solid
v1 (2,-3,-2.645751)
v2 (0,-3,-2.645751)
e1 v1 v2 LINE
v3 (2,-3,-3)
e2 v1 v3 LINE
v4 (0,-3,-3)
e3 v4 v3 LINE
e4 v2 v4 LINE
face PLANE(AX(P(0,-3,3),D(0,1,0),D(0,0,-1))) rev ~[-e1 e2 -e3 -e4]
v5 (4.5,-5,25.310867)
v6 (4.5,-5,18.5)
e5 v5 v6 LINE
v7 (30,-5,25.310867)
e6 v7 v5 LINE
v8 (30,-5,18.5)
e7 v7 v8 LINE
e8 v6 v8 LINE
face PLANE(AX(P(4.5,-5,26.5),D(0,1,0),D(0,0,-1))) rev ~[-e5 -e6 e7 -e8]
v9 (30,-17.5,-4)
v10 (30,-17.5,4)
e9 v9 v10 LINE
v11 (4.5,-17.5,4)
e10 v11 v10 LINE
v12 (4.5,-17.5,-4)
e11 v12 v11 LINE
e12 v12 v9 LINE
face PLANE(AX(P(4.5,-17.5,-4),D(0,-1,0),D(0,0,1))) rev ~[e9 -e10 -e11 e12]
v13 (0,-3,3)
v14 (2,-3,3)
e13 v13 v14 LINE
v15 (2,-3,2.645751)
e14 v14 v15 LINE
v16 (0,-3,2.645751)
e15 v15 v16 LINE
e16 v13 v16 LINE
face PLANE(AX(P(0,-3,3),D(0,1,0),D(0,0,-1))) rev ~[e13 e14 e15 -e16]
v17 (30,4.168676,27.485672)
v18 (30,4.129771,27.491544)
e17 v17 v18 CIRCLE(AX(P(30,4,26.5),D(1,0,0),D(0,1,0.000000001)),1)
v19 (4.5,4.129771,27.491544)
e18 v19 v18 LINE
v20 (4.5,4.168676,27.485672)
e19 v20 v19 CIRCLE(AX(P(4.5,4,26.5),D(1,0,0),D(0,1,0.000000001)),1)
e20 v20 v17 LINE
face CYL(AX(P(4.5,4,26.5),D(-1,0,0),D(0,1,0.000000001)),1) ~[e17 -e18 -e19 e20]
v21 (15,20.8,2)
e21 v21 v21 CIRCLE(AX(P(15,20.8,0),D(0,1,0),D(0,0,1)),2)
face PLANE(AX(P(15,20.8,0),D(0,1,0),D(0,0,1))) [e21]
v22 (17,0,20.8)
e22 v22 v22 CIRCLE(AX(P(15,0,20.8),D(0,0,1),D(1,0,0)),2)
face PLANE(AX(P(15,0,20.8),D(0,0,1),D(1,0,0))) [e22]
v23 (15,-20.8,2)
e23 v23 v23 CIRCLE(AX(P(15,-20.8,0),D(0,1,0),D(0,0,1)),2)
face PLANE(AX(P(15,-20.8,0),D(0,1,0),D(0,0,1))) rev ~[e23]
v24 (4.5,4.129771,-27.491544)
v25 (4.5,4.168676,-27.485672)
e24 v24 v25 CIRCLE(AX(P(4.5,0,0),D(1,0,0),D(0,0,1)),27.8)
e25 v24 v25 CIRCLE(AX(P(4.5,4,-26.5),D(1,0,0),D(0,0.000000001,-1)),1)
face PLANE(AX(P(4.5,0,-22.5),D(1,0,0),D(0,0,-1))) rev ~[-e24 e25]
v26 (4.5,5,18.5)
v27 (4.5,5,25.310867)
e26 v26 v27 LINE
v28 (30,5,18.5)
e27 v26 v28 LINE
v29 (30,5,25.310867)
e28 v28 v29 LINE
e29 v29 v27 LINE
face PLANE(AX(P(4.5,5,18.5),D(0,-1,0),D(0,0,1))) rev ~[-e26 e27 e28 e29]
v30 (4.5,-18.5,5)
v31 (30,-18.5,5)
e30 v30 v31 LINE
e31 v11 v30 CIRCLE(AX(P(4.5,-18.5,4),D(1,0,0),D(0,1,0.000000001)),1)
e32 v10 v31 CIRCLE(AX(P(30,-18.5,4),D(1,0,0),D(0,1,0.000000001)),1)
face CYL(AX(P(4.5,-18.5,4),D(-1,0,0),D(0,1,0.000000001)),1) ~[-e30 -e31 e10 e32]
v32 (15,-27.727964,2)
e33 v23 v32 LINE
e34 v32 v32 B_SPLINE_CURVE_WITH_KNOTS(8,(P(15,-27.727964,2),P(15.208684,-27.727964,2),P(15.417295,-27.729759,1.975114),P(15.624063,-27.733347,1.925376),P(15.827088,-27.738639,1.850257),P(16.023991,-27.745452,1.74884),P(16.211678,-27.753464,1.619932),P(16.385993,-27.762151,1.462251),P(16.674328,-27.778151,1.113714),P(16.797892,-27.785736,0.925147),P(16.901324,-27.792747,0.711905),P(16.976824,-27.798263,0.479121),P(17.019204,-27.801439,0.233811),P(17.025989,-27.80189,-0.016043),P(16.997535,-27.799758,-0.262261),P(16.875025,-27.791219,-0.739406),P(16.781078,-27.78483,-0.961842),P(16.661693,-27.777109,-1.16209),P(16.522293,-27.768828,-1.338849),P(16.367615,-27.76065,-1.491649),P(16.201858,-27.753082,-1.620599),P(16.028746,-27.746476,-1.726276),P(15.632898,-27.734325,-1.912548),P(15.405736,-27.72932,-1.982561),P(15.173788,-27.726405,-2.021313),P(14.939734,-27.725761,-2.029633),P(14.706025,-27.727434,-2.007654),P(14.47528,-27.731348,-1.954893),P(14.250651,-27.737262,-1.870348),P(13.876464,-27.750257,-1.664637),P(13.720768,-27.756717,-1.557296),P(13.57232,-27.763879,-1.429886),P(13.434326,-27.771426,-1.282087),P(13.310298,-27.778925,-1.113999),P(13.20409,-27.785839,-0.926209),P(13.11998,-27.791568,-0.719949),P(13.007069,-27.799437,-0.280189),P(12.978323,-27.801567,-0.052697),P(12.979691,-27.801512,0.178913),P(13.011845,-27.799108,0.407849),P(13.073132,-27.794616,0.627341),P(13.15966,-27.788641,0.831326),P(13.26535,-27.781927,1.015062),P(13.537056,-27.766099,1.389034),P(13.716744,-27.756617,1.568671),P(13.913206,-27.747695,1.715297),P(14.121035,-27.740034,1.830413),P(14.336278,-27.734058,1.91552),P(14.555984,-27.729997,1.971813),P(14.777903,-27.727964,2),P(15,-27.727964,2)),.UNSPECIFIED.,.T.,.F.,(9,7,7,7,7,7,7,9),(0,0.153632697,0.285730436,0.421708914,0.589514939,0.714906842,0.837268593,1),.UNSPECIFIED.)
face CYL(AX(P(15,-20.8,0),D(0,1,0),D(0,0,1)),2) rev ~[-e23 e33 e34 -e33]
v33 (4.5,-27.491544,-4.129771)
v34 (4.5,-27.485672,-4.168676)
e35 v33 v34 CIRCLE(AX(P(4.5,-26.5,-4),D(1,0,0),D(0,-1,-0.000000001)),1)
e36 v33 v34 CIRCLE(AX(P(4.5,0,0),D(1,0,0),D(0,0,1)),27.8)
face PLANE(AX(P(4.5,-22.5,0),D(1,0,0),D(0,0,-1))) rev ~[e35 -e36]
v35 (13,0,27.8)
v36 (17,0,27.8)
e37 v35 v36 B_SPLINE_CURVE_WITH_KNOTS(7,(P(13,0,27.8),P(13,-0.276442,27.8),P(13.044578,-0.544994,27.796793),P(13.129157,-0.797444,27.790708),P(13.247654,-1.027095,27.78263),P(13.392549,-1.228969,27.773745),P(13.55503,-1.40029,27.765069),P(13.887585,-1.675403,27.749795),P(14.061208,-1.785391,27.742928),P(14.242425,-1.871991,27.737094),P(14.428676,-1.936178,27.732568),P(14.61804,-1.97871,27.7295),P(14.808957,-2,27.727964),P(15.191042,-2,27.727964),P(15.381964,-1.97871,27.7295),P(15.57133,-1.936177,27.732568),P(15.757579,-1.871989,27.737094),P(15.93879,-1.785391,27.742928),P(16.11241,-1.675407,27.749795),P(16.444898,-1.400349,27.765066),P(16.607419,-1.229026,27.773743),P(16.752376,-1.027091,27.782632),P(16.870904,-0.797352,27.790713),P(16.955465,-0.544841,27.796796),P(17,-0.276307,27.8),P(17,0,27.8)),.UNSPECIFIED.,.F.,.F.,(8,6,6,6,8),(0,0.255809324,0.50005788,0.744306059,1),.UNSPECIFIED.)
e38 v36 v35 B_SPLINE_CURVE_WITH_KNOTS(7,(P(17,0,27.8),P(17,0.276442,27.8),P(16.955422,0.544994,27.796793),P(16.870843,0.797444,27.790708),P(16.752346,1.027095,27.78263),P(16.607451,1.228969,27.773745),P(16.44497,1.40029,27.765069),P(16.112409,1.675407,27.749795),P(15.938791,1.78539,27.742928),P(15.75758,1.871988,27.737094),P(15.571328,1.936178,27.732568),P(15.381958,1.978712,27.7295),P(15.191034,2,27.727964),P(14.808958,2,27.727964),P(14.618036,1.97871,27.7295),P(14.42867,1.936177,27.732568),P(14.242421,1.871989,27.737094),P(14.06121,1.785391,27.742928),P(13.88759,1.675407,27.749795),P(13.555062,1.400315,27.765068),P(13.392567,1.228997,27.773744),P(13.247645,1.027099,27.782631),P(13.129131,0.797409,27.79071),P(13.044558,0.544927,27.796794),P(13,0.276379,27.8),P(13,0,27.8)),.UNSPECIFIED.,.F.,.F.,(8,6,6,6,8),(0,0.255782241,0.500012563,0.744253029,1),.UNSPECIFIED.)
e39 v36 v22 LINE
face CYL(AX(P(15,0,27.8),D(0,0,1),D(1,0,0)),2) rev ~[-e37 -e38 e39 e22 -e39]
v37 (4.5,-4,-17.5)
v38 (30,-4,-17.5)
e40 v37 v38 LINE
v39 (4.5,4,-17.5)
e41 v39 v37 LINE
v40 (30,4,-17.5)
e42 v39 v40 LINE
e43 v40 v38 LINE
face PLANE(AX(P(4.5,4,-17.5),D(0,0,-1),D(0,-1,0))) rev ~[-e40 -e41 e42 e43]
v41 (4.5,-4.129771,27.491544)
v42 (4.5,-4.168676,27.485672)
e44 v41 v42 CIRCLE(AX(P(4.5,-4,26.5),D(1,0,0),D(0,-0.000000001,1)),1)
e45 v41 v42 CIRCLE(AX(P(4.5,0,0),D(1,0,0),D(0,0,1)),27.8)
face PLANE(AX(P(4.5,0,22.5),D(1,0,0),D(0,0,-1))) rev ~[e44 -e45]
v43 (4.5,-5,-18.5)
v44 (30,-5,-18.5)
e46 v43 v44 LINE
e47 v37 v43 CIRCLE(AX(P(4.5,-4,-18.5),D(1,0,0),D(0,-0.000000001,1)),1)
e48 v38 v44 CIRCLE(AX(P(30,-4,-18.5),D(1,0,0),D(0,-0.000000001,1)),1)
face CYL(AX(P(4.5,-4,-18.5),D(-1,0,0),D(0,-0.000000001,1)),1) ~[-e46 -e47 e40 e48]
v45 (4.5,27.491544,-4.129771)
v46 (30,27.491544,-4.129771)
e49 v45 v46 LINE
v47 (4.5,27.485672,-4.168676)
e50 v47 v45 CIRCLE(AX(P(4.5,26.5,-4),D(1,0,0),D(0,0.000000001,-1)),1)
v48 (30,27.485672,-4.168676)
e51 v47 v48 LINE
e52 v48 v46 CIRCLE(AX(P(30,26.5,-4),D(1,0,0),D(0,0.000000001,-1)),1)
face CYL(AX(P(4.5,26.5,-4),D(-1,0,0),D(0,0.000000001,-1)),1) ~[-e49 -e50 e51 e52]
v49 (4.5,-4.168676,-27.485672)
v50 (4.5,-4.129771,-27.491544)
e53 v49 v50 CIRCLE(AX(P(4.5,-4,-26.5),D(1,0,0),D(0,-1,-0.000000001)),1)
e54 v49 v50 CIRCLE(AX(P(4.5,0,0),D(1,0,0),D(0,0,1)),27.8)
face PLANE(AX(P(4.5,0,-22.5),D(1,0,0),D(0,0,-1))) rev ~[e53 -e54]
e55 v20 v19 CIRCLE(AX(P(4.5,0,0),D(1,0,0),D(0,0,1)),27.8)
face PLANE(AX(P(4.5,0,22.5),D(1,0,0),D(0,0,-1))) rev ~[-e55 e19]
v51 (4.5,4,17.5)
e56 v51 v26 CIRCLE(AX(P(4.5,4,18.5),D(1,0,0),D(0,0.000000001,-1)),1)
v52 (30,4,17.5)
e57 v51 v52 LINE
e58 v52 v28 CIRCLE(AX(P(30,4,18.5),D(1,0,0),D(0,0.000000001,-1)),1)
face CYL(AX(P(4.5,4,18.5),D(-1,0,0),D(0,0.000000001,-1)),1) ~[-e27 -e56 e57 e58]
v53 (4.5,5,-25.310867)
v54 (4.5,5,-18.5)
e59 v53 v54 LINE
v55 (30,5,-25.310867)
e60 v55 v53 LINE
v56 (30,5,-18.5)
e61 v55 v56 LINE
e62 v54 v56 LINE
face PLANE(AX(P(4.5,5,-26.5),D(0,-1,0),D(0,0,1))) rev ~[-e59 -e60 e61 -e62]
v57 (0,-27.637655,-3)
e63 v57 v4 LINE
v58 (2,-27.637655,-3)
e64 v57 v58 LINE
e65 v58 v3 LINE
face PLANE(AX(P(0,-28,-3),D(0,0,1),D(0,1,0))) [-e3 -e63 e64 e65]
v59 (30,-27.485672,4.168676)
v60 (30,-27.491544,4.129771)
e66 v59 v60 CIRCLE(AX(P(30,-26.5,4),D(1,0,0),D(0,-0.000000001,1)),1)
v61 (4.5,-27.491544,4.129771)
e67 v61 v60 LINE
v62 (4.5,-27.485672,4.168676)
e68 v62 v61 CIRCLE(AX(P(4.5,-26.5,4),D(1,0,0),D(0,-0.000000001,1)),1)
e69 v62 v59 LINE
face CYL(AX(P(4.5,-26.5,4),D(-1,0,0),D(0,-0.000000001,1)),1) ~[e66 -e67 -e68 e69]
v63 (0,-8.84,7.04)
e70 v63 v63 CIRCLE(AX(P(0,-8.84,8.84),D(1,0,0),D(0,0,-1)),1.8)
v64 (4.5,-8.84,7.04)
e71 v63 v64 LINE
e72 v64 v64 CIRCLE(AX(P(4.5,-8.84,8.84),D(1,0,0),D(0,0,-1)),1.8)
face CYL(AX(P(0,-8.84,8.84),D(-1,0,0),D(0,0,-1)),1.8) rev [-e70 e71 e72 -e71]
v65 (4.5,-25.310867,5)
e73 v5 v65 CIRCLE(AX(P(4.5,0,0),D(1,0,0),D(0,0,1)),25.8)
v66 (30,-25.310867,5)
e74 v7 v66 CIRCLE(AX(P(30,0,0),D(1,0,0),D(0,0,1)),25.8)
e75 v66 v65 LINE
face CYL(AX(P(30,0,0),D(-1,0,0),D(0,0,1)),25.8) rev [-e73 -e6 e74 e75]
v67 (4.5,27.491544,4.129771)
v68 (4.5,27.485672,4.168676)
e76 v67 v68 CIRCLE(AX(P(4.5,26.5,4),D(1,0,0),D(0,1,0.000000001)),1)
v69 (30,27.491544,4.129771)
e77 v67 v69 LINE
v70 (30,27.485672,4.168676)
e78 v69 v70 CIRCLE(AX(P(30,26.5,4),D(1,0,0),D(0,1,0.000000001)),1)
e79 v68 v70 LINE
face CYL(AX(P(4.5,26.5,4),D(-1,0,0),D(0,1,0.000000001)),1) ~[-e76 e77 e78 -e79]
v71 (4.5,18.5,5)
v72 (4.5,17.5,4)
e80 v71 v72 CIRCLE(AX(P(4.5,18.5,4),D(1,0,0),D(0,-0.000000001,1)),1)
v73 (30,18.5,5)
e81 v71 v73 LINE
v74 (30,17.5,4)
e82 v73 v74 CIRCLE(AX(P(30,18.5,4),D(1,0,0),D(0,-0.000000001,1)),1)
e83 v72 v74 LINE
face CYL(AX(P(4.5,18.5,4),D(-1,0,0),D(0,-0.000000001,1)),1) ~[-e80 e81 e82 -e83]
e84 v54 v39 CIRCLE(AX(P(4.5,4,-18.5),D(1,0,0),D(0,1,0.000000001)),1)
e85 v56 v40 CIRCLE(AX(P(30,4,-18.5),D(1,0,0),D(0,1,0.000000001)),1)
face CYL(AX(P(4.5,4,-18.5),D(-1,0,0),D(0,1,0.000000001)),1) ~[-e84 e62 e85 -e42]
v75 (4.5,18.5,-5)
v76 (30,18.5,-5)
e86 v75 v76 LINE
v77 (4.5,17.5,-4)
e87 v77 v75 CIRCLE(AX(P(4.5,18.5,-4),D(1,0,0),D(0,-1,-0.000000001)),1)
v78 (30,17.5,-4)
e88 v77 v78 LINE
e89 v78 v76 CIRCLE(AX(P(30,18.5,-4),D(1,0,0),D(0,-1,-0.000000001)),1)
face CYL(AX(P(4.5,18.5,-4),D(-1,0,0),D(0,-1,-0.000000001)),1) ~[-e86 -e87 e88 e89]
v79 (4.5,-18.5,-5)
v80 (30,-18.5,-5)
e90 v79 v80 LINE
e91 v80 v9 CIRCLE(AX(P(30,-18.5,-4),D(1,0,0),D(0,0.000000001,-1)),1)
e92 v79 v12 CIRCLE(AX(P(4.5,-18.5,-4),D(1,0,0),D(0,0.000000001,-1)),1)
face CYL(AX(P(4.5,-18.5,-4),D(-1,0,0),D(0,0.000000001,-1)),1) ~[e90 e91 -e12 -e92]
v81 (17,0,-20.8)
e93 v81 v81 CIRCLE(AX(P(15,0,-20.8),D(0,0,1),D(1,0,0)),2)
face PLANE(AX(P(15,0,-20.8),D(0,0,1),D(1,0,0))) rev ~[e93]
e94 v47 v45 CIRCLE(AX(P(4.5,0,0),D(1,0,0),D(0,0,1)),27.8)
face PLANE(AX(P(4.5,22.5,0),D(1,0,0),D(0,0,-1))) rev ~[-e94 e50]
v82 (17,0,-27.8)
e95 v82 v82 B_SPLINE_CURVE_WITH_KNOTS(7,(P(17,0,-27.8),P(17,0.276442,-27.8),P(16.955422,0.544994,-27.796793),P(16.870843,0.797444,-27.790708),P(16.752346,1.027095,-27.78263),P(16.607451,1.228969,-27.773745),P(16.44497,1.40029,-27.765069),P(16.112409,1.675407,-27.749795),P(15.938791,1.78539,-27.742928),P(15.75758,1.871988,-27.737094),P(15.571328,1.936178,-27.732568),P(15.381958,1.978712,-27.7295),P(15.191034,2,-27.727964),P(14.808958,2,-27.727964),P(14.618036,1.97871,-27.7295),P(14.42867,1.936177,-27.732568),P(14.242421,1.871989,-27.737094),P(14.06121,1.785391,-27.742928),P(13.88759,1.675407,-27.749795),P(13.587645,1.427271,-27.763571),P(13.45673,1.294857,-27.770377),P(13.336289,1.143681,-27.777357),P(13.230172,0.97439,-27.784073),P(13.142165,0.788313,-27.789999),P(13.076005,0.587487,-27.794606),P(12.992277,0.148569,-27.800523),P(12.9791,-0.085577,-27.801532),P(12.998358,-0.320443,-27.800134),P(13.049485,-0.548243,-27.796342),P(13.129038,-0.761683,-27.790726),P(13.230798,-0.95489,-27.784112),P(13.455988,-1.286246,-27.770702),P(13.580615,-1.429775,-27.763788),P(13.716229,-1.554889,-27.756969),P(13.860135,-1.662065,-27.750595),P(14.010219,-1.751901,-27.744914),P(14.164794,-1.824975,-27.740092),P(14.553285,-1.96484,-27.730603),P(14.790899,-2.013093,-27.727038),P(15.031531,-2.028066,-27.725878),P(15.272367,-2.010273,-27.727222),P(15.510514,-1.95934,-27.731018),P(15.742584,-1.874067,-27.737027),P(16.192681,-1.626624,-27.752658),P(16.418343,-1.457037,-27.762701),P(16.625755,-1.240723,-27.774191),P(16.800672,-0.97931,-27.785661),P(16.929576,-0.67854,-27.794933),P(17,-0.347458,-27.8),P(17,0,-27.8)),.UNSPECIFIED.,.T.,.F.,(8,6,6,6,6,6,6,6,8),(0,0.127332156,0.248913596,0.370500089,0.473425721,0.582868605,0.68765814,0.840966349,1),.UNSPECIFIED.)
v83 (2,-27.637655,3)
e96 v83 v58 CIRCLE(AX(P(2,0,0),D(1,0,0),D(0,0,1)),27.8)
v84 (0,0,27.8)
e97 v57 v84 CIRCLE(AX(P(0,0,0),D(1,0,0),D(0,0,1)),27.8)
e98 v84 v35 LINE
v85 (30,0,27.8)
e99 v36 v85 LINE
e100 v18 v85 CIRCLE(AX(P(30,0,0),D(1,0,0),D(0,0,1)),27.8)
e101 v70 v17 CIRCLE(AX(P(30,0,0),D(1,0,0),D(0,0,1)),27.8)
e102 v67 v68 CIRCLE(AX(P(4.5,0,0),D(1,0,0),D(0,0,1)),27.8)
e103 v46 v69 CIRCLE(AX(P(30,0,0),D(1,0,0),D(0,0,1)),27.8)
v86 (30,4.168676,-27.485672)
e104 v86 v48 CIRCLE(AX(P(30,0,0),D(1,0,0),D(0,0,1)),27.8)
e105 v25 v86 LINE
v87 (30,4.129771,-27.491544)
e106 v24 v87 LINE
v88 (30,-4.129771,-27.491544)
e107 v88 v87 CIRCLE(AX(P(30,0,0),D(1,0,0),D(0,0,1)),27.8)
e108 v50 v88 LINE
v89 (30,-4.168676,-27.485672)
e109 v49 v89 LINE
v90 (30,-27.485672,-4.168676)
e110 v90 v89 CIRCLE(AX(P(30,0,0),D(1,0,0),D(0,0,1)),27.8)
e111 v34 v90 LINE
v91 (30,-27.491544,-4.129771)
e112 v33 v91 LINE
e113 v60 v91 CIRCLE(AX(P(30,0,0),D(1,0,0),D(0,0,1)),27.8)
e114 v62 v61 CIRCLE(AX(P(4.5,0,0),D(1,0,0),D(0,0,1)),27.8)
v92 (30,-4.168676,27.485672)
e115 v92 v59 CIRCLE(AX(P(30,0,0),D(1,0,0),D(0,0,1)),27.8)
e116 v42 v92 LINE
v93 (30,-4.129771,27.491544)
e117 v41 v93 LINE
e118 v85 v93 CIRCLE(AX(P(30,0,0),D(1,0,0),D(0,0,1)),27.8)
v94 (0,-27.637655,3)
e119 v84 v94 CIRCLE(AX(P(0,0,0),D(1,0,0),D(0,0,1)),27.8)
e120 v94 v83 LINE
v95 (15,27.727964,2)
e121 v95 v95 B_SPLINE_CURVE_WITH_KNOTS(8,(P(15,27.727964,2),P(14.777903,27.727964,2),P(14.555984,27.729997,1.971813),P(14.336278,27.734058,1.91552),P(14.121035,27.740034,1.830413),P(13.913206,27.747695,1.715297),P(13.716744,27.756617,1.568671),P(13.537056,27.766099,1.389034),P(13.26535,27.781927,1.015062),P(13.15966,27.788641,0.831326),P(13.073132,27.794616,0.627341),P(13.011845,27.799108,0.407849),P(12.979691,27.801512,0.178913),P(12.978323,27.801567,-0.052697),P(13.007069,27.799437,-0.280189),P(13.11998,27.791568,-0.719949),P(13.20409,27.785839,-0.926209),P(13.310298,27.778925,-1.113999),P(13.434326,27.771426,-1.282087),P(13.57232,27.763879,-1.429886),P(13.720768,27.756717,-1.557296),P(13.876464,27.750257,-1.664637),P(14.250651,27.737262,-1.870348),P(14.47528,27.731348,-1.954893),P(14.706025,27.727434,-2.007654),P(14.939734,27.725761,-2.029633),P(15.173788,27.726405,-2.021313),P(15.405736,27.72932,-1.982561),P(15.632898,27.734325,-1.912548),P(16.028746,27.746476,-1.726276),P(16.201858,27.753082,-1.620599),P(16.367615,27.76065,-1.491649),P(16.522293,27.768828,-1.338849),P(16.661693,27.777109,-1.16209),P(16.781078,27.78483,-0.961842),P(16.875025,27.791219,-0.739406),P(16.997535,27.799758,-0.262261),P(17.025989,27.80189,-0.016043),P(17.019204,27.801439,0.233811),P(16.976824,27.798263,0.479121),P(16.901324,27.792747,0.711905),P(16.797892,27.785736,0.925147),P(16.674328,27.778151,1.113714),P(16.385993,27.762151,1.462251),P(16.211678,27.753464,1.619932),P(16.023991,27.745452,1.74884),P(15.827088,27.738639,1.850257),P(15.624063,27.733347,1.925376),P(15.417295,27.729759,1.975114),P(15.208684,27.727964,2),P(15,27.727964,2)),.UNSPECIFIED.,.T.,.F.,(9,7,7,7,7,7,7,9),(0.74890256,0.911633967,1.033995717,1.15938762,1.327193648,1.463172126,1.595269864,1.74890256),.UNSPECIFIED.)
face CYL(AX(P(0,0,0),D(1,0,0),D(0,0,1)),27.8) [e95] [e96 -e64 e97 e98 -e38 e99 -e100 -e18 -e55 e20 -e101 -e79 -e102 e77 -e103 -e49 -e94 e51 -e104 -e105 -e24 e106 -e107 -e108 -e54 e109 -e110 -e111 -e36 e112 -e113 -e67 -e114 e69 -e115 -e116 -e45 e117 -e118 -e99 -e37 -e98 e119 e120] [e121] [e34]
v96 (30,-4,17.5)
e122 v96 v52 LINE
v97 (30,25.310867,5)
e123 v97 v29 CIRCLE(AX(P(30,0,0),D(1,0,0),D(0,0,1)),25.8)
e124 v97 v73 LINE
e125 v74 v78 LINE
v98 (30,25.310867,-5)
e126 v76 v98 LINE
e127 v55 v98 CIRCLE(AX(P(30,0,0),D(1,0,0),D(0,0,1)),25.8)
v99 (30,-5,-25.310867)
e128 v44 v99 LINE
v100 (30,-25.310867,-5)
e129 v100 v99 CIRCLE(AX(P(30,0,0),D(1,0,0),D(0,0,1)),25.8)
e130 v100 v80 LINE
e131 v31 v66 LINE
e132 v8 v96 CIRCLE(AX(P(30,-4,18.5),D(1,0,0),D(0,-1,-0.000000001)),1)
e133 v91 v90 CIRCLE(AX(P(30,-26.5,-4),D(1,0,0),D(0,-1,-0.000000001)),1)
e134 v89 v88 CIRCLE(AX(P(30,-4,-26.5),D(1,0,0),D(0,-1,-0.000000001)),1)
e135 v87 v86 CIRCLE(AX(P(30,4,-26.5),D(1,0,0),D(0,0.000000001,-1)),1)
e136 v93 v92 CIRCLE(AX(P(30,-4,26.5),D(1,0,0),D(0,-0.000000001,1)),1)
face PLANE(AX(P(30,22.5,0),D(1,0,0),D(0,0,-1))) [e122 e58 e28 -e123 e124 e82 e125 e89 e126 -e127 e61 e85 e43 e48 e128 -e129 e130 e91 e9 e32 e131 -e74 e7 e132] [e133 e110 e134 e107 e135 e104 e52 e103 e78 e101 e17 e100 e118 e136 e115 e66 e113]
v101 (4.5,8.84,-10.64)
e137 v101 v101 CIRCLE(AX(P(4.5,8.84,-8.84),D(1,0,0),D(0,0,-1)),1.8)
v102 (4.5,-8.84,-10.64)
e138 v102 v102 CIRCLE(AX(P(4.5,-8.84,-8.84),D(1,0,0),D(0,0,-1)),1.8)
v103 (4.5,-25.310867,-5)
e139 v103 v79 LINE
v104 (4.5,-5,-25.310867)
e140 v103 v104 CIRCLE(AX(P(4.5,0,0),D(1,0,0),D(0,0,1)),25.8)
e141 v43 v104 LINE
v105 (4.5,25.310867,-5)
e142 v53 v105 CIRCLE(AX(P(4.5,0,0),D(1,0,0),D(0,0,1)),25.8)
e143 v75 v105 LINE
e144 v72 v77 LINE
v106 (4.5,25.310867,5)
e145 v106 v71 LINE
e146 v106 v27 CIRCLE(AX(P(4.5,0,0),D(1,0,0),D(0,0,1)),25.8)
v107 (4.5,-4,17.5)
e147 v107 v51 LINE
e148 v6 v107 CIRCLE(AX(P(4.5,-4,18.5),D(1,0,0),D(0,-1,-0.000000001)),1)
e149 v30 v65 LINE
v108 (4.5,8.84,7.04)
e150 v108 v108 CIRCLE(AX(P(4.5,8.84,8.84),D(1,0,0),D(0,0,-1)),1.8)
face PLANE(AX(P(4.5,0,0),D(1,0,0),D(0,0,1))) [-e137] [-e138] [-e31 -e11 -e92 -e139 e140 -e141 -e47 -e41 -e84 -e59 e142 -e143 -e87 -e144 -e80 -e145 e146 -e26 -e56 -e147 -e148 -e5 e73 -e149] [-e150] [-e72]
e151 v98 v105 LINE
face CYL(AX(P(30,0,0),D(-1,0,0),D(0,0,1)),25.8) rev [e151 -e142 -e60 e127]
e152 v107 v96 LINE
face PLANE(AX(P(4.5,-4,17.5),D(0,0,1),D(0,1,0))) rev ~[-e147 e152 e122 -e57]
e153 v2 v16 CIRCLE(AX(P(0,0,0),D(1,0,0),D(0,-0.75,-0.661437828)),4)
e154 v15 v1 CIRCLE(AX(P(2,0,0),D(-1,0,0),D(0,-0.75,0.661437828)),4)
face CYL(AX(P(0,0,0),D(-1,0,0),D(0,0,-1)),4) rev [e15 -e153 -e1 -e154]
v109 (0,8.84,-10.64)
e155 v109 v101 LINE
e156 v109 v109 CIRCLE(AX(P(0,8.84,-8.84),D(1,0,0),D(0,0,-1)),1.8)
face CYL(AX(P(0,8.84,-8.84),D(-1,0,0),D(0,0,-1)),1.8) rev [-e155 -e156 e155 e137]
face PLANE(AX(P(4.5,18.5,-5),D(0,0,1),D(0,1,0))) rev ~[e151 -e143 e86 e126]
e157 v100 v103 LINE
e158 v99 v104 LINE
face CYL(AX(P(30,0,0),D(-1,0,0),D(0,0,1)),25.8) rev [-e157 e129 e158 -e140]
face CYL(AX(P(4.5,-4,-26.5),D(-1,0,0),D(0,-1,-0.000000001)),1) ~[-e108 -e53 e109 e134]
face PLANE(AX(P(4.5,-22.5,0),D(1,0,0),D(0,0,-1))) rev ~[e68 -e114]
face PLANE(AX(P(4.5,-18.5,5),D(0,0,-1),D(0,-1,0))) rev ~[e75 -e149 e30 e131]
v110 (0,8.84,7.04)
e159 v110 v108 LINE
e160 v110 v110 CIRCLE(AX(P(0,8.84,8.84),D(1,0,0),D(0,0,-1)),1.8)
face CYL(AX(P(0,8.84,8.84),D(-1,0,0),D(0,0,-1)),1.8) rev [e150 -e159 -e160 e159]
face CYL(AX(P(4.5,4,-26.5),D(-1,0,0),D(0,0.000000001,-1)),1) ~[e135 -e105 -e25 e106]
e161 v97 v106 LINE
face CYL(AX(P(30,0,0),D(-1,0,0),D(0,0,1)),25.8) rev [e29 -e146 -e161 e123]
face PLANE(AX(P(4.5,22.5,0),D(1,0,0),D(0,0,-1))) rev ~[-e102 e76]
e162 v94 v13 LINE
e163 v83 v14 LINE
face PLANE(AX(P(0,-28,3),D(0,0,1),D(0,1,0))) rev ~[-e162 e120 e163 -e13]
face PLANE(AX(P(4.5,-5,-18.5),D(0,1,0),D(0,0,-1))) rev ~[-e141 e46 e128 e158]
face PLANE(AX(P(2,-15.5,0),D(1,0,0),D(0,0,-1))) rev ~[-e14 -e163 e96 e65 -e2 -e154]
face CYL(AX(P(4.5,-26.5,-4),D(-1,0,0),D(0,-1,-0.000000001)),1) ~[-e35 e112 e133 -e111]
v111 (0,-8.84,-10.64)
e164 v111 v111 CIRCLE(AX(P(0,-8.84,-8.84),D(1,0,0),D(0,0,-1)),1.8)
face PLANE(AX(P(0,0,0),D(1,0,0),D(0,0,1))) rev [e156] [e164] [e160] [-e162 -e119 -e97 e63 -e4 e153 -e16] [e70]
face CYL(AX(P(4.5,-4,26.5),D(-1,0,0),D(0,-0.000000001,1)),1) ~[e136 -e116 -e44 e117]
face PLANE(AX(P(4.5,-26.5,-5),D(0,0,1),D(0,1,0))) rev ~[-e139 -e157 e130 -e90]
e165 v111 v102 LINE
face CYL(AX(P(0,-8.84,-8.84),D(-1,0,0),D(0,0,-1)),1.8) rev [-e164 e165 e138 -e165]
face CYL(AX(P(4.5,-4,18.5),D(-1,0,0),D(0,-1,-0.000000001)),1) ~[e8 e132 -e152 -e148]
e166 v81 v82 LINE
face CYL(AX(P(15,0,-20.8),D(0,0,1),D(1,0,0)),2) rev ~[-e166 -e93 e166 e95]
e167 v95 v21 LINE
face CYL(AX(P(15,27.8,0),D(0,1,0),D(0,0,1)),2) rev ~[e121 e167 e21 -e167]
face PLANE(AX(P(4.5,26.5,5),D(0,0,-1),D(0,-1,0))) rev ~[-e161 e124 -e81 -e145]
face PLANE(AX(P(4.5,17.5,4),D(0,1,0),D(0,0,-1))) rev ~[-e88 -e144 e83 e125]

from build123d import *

# Parameters (mm, degrees)
BOSS_EXTRUDE1_DEPTH = 25.5
SKETCH3_R           = 1.8
CUT_EXTRUDE1_DEPTH  = 4.5
SKETCH4_R           = 4
CUT_EXTRUDE2_DEPTH  = 2
SKETCH5_W           = 6
SKETCH5_H           = 25
CUT_EXTRUDE3_DEPTH  = 2
SKETCH6_R           = 2
CUT_EXTRUDE4_DEPTH  = 7
CUT_EXTRUDE5_START  = 7
SKETCH7_R           = 2
CUT_EXTRUDE5_DEPTH  = 7
SKETCH8_R           = 2
CUT_EXTRUDE6_DEPTH  = 7
CUT_EXTRUDE7_START  = 7
SKETCH9_R           = 2
CUT_EXTRUDE7_DEPTH  = 7


with BuildPart() as part:
    # Sketch1 → Revolve1 (revolve)
    with BuildSketch(Plane.XY, mode=Mode.PRIVATE) as revolve1_sk:
        Polygon((0, 0), (0, 27.8), (30, 27.8), (30, 25.8), (4.5, 25.8), (4.5, 0), align=None)
    revolve(revolve1_sk.sketch.rotate(Axis((-10, 0, 0), (1, 0, 0)), 90), axis=Axis((-10, 0, 0), (1, 0, 0)))

    # Sketch2 → Boss-Extrude1 (add)
    with BuildSketch(Plane(origin=(4.5, 0, 0), x_dir=(0, 0, -1), z_dir=(1, 0, 0))):
        with BuildLine():
            Line((-4, 17.5), (4, 17.5))
            ThreePointArc((4, 17.5), (4.707106781, 17.792893219), (5, 18.5))
            Line((5, 18.5), (5, 26.5))
            ThreePointArc((5, 26.5), (4.707106781, 27.207106781), (4, 27.5))
            Line((4, 27.5), (-4, 27.5))
            ThreePointArc((-4, 27.5), (-4.707106781, 27.207106781), (-5, 26.5))
            Line((-5, 26.5), (-5, 18.5))
            ThreePointArc((-5, 18.5), (-4.707106781, 17.792893219), (-4, 17.5))
        make_face()
        with BuildLine():
            Line((-4, -27.5), (4, -27.5))
            ThreePointArc((4, -27.5), (4.707106781, -27.207106781), (5, -26.5))
            Line((5, -26.5), (5, -18.5))
            ThreePointArc((5, -18.5), (4.707106781, -17.792893219), (4, -17.5))
            Line((4, -17.5), (-4, -17.5))
            ThreePointArc((-4, -17.5), (-4.707106781, -17.792893219), (-5, -18.5))
            Line((-5, -18.5), (-5, -26.5))
            ThreePointArc((-5, -26.5), (-4.707106781, -27.207106781), (-4, -27.5))
        make_face()
        with BuildLine():
            Line((-26.5, -5), (-18.5, -5))
            ThreePointArc((-18.5, -5), (-17.792893219, -4.707106781), (-17.5, -4))
            Line((-17.5, -4), (-17.5, 4))
            ThreePointArc((-17.5, 4), (-17.792893219, 4.707106781), (-18.5, 5))
            Line((-18.5, 5), (-26.5, 5))
            ThreePointArc((-26.5, 5), (-27.207106781, 4.707106781), (-27.5, 4))
            Line((-27.5, 4), (-27.5, -4))
            ThreePointArc((-27.5, -4), (-27.207106781, -4.707106781), (-26.5, -5))
        make_face()
        with BuildLine():
            Line((18.5, -5), (26.5, -5))
            ThreePointArc((26.5, -5), (27.207106781, -4.707106781), (27.5, -4))
            Line((27.5, -4), (27.5, 4))
            ThreePointArc((27.5, 4), (27.207106781, 4.707106781), (26.5, 5))
            Line((26.5, 5), (18.5, 5))
            ThreePointArc((18.5, 5), (17.792893219, 4.707106781), (17.5, 4))
            Line((17.5, 4), (17.5, -4))
            ThreePointArc((17.5, -4), (17.792893219, -4.707106781), (18.5, -5))
        make_face()
    extrude(amount=BOSS_EXTRUDE1_DEPTH)

    # Sketch3 → Cut-Extrude1 (cut)
    with BuildSketch(Plane(origin=(0, 0, 0), x_dir=(0, 0, -1), z_dir=(1, 0, 0))):
        with Locations((-8.84, 8.84)):
            Circle(SKETCH3_R)
        with Locations((-8.84, -8.84)):
            Circle(SKETCH3_R)
        with Locations((8.84, 8.84)):
            Circle(SKETCH3_R)
        with Locations((8.84, -8.84)):
            Circle(SKETCH3_R)
    extrude(amount=CUT_EXTRUDE1_DEPTH, mode=Mode.SUBTRACT)

    # Sketch4 → Cut-Extrude2 (cut)
    with BuildSketch(Plane(origin=(0, 0, 0), x_dir=(0, 0, -1), z_dir=(1, 0, 0))):
        Circle(SKETCH4_R)
    extrude(amount=CUT_EXTRUDE2_DEPTH, mode=Mode.SUBTRACT)

    # Sketch5 → Cut-Extrude3 (cut)
    with BuildSketch(Plane(origin=(0, 0, 0), x_dir=(0, 0, -1), z_dir=(1, 0, 0))):
        with Locations((0, -15.5)):
            Rectangle(SKETCH5_W, SKETCH5_H)
    extrude(amount=CUT_EXTRUDE3_DEPTH, mode=Mode.SUBTRACT)

    # Sketch6 → Cut-Extrude4 (cut)
    with BuildSketch(Plane(origin=(0, 27.8, 0), x_dir=(1, 0, 0), z_dir=(0, 1, 0))):
        with Locations(Location((15, 0, 0), (0, 0, 270))):
            Circle(SKETCH6_R)
    extrude(amount=-CUT_EXTRUDE4_DEPTH, mode=Mode.SUBTRACT)

    # Sketch7 → Cut-Extrude5 (cut)
    with BuildSketch(Plane(origin=(0, -27.8, 0), x_dir=(1, 0, 0), z_dir=(0, 1, 0)).offset(CUT_EXTRUDE5_START)):
        with Locations(Location((15, 0, 0), (0, 0, 270))):
            Circle(SKETCH7_R)
    extrude(amount=-CUT_EXTRUDE5_DEPTH, mode=Mode.SUBTRACT)

    # Sketch8 → Cut-Extrude6 (cut)
    with BuildSketch(Plane.XY.offset(27.8)):
        with Locations((15, 0)):
            Circle(SKETCH8_R)
    extrude(amount=-CUT_EXTRUDE6_DEPTH, mode=Mode.SUBTRACT)

    # Sketch9 → Cut-Extrude7 (cut)
    with BuildSketch(Plane.XY.offset(-27.8).offset(CUT_EXTRUDE7_START)):
        with Locations((15, 0)):
            Circle(SKETCH9_R)
    extrude(amount=-CUT_EXTRUDE7_DEPTH, mode=Mode.SUBTRACT)


solid = part.part
